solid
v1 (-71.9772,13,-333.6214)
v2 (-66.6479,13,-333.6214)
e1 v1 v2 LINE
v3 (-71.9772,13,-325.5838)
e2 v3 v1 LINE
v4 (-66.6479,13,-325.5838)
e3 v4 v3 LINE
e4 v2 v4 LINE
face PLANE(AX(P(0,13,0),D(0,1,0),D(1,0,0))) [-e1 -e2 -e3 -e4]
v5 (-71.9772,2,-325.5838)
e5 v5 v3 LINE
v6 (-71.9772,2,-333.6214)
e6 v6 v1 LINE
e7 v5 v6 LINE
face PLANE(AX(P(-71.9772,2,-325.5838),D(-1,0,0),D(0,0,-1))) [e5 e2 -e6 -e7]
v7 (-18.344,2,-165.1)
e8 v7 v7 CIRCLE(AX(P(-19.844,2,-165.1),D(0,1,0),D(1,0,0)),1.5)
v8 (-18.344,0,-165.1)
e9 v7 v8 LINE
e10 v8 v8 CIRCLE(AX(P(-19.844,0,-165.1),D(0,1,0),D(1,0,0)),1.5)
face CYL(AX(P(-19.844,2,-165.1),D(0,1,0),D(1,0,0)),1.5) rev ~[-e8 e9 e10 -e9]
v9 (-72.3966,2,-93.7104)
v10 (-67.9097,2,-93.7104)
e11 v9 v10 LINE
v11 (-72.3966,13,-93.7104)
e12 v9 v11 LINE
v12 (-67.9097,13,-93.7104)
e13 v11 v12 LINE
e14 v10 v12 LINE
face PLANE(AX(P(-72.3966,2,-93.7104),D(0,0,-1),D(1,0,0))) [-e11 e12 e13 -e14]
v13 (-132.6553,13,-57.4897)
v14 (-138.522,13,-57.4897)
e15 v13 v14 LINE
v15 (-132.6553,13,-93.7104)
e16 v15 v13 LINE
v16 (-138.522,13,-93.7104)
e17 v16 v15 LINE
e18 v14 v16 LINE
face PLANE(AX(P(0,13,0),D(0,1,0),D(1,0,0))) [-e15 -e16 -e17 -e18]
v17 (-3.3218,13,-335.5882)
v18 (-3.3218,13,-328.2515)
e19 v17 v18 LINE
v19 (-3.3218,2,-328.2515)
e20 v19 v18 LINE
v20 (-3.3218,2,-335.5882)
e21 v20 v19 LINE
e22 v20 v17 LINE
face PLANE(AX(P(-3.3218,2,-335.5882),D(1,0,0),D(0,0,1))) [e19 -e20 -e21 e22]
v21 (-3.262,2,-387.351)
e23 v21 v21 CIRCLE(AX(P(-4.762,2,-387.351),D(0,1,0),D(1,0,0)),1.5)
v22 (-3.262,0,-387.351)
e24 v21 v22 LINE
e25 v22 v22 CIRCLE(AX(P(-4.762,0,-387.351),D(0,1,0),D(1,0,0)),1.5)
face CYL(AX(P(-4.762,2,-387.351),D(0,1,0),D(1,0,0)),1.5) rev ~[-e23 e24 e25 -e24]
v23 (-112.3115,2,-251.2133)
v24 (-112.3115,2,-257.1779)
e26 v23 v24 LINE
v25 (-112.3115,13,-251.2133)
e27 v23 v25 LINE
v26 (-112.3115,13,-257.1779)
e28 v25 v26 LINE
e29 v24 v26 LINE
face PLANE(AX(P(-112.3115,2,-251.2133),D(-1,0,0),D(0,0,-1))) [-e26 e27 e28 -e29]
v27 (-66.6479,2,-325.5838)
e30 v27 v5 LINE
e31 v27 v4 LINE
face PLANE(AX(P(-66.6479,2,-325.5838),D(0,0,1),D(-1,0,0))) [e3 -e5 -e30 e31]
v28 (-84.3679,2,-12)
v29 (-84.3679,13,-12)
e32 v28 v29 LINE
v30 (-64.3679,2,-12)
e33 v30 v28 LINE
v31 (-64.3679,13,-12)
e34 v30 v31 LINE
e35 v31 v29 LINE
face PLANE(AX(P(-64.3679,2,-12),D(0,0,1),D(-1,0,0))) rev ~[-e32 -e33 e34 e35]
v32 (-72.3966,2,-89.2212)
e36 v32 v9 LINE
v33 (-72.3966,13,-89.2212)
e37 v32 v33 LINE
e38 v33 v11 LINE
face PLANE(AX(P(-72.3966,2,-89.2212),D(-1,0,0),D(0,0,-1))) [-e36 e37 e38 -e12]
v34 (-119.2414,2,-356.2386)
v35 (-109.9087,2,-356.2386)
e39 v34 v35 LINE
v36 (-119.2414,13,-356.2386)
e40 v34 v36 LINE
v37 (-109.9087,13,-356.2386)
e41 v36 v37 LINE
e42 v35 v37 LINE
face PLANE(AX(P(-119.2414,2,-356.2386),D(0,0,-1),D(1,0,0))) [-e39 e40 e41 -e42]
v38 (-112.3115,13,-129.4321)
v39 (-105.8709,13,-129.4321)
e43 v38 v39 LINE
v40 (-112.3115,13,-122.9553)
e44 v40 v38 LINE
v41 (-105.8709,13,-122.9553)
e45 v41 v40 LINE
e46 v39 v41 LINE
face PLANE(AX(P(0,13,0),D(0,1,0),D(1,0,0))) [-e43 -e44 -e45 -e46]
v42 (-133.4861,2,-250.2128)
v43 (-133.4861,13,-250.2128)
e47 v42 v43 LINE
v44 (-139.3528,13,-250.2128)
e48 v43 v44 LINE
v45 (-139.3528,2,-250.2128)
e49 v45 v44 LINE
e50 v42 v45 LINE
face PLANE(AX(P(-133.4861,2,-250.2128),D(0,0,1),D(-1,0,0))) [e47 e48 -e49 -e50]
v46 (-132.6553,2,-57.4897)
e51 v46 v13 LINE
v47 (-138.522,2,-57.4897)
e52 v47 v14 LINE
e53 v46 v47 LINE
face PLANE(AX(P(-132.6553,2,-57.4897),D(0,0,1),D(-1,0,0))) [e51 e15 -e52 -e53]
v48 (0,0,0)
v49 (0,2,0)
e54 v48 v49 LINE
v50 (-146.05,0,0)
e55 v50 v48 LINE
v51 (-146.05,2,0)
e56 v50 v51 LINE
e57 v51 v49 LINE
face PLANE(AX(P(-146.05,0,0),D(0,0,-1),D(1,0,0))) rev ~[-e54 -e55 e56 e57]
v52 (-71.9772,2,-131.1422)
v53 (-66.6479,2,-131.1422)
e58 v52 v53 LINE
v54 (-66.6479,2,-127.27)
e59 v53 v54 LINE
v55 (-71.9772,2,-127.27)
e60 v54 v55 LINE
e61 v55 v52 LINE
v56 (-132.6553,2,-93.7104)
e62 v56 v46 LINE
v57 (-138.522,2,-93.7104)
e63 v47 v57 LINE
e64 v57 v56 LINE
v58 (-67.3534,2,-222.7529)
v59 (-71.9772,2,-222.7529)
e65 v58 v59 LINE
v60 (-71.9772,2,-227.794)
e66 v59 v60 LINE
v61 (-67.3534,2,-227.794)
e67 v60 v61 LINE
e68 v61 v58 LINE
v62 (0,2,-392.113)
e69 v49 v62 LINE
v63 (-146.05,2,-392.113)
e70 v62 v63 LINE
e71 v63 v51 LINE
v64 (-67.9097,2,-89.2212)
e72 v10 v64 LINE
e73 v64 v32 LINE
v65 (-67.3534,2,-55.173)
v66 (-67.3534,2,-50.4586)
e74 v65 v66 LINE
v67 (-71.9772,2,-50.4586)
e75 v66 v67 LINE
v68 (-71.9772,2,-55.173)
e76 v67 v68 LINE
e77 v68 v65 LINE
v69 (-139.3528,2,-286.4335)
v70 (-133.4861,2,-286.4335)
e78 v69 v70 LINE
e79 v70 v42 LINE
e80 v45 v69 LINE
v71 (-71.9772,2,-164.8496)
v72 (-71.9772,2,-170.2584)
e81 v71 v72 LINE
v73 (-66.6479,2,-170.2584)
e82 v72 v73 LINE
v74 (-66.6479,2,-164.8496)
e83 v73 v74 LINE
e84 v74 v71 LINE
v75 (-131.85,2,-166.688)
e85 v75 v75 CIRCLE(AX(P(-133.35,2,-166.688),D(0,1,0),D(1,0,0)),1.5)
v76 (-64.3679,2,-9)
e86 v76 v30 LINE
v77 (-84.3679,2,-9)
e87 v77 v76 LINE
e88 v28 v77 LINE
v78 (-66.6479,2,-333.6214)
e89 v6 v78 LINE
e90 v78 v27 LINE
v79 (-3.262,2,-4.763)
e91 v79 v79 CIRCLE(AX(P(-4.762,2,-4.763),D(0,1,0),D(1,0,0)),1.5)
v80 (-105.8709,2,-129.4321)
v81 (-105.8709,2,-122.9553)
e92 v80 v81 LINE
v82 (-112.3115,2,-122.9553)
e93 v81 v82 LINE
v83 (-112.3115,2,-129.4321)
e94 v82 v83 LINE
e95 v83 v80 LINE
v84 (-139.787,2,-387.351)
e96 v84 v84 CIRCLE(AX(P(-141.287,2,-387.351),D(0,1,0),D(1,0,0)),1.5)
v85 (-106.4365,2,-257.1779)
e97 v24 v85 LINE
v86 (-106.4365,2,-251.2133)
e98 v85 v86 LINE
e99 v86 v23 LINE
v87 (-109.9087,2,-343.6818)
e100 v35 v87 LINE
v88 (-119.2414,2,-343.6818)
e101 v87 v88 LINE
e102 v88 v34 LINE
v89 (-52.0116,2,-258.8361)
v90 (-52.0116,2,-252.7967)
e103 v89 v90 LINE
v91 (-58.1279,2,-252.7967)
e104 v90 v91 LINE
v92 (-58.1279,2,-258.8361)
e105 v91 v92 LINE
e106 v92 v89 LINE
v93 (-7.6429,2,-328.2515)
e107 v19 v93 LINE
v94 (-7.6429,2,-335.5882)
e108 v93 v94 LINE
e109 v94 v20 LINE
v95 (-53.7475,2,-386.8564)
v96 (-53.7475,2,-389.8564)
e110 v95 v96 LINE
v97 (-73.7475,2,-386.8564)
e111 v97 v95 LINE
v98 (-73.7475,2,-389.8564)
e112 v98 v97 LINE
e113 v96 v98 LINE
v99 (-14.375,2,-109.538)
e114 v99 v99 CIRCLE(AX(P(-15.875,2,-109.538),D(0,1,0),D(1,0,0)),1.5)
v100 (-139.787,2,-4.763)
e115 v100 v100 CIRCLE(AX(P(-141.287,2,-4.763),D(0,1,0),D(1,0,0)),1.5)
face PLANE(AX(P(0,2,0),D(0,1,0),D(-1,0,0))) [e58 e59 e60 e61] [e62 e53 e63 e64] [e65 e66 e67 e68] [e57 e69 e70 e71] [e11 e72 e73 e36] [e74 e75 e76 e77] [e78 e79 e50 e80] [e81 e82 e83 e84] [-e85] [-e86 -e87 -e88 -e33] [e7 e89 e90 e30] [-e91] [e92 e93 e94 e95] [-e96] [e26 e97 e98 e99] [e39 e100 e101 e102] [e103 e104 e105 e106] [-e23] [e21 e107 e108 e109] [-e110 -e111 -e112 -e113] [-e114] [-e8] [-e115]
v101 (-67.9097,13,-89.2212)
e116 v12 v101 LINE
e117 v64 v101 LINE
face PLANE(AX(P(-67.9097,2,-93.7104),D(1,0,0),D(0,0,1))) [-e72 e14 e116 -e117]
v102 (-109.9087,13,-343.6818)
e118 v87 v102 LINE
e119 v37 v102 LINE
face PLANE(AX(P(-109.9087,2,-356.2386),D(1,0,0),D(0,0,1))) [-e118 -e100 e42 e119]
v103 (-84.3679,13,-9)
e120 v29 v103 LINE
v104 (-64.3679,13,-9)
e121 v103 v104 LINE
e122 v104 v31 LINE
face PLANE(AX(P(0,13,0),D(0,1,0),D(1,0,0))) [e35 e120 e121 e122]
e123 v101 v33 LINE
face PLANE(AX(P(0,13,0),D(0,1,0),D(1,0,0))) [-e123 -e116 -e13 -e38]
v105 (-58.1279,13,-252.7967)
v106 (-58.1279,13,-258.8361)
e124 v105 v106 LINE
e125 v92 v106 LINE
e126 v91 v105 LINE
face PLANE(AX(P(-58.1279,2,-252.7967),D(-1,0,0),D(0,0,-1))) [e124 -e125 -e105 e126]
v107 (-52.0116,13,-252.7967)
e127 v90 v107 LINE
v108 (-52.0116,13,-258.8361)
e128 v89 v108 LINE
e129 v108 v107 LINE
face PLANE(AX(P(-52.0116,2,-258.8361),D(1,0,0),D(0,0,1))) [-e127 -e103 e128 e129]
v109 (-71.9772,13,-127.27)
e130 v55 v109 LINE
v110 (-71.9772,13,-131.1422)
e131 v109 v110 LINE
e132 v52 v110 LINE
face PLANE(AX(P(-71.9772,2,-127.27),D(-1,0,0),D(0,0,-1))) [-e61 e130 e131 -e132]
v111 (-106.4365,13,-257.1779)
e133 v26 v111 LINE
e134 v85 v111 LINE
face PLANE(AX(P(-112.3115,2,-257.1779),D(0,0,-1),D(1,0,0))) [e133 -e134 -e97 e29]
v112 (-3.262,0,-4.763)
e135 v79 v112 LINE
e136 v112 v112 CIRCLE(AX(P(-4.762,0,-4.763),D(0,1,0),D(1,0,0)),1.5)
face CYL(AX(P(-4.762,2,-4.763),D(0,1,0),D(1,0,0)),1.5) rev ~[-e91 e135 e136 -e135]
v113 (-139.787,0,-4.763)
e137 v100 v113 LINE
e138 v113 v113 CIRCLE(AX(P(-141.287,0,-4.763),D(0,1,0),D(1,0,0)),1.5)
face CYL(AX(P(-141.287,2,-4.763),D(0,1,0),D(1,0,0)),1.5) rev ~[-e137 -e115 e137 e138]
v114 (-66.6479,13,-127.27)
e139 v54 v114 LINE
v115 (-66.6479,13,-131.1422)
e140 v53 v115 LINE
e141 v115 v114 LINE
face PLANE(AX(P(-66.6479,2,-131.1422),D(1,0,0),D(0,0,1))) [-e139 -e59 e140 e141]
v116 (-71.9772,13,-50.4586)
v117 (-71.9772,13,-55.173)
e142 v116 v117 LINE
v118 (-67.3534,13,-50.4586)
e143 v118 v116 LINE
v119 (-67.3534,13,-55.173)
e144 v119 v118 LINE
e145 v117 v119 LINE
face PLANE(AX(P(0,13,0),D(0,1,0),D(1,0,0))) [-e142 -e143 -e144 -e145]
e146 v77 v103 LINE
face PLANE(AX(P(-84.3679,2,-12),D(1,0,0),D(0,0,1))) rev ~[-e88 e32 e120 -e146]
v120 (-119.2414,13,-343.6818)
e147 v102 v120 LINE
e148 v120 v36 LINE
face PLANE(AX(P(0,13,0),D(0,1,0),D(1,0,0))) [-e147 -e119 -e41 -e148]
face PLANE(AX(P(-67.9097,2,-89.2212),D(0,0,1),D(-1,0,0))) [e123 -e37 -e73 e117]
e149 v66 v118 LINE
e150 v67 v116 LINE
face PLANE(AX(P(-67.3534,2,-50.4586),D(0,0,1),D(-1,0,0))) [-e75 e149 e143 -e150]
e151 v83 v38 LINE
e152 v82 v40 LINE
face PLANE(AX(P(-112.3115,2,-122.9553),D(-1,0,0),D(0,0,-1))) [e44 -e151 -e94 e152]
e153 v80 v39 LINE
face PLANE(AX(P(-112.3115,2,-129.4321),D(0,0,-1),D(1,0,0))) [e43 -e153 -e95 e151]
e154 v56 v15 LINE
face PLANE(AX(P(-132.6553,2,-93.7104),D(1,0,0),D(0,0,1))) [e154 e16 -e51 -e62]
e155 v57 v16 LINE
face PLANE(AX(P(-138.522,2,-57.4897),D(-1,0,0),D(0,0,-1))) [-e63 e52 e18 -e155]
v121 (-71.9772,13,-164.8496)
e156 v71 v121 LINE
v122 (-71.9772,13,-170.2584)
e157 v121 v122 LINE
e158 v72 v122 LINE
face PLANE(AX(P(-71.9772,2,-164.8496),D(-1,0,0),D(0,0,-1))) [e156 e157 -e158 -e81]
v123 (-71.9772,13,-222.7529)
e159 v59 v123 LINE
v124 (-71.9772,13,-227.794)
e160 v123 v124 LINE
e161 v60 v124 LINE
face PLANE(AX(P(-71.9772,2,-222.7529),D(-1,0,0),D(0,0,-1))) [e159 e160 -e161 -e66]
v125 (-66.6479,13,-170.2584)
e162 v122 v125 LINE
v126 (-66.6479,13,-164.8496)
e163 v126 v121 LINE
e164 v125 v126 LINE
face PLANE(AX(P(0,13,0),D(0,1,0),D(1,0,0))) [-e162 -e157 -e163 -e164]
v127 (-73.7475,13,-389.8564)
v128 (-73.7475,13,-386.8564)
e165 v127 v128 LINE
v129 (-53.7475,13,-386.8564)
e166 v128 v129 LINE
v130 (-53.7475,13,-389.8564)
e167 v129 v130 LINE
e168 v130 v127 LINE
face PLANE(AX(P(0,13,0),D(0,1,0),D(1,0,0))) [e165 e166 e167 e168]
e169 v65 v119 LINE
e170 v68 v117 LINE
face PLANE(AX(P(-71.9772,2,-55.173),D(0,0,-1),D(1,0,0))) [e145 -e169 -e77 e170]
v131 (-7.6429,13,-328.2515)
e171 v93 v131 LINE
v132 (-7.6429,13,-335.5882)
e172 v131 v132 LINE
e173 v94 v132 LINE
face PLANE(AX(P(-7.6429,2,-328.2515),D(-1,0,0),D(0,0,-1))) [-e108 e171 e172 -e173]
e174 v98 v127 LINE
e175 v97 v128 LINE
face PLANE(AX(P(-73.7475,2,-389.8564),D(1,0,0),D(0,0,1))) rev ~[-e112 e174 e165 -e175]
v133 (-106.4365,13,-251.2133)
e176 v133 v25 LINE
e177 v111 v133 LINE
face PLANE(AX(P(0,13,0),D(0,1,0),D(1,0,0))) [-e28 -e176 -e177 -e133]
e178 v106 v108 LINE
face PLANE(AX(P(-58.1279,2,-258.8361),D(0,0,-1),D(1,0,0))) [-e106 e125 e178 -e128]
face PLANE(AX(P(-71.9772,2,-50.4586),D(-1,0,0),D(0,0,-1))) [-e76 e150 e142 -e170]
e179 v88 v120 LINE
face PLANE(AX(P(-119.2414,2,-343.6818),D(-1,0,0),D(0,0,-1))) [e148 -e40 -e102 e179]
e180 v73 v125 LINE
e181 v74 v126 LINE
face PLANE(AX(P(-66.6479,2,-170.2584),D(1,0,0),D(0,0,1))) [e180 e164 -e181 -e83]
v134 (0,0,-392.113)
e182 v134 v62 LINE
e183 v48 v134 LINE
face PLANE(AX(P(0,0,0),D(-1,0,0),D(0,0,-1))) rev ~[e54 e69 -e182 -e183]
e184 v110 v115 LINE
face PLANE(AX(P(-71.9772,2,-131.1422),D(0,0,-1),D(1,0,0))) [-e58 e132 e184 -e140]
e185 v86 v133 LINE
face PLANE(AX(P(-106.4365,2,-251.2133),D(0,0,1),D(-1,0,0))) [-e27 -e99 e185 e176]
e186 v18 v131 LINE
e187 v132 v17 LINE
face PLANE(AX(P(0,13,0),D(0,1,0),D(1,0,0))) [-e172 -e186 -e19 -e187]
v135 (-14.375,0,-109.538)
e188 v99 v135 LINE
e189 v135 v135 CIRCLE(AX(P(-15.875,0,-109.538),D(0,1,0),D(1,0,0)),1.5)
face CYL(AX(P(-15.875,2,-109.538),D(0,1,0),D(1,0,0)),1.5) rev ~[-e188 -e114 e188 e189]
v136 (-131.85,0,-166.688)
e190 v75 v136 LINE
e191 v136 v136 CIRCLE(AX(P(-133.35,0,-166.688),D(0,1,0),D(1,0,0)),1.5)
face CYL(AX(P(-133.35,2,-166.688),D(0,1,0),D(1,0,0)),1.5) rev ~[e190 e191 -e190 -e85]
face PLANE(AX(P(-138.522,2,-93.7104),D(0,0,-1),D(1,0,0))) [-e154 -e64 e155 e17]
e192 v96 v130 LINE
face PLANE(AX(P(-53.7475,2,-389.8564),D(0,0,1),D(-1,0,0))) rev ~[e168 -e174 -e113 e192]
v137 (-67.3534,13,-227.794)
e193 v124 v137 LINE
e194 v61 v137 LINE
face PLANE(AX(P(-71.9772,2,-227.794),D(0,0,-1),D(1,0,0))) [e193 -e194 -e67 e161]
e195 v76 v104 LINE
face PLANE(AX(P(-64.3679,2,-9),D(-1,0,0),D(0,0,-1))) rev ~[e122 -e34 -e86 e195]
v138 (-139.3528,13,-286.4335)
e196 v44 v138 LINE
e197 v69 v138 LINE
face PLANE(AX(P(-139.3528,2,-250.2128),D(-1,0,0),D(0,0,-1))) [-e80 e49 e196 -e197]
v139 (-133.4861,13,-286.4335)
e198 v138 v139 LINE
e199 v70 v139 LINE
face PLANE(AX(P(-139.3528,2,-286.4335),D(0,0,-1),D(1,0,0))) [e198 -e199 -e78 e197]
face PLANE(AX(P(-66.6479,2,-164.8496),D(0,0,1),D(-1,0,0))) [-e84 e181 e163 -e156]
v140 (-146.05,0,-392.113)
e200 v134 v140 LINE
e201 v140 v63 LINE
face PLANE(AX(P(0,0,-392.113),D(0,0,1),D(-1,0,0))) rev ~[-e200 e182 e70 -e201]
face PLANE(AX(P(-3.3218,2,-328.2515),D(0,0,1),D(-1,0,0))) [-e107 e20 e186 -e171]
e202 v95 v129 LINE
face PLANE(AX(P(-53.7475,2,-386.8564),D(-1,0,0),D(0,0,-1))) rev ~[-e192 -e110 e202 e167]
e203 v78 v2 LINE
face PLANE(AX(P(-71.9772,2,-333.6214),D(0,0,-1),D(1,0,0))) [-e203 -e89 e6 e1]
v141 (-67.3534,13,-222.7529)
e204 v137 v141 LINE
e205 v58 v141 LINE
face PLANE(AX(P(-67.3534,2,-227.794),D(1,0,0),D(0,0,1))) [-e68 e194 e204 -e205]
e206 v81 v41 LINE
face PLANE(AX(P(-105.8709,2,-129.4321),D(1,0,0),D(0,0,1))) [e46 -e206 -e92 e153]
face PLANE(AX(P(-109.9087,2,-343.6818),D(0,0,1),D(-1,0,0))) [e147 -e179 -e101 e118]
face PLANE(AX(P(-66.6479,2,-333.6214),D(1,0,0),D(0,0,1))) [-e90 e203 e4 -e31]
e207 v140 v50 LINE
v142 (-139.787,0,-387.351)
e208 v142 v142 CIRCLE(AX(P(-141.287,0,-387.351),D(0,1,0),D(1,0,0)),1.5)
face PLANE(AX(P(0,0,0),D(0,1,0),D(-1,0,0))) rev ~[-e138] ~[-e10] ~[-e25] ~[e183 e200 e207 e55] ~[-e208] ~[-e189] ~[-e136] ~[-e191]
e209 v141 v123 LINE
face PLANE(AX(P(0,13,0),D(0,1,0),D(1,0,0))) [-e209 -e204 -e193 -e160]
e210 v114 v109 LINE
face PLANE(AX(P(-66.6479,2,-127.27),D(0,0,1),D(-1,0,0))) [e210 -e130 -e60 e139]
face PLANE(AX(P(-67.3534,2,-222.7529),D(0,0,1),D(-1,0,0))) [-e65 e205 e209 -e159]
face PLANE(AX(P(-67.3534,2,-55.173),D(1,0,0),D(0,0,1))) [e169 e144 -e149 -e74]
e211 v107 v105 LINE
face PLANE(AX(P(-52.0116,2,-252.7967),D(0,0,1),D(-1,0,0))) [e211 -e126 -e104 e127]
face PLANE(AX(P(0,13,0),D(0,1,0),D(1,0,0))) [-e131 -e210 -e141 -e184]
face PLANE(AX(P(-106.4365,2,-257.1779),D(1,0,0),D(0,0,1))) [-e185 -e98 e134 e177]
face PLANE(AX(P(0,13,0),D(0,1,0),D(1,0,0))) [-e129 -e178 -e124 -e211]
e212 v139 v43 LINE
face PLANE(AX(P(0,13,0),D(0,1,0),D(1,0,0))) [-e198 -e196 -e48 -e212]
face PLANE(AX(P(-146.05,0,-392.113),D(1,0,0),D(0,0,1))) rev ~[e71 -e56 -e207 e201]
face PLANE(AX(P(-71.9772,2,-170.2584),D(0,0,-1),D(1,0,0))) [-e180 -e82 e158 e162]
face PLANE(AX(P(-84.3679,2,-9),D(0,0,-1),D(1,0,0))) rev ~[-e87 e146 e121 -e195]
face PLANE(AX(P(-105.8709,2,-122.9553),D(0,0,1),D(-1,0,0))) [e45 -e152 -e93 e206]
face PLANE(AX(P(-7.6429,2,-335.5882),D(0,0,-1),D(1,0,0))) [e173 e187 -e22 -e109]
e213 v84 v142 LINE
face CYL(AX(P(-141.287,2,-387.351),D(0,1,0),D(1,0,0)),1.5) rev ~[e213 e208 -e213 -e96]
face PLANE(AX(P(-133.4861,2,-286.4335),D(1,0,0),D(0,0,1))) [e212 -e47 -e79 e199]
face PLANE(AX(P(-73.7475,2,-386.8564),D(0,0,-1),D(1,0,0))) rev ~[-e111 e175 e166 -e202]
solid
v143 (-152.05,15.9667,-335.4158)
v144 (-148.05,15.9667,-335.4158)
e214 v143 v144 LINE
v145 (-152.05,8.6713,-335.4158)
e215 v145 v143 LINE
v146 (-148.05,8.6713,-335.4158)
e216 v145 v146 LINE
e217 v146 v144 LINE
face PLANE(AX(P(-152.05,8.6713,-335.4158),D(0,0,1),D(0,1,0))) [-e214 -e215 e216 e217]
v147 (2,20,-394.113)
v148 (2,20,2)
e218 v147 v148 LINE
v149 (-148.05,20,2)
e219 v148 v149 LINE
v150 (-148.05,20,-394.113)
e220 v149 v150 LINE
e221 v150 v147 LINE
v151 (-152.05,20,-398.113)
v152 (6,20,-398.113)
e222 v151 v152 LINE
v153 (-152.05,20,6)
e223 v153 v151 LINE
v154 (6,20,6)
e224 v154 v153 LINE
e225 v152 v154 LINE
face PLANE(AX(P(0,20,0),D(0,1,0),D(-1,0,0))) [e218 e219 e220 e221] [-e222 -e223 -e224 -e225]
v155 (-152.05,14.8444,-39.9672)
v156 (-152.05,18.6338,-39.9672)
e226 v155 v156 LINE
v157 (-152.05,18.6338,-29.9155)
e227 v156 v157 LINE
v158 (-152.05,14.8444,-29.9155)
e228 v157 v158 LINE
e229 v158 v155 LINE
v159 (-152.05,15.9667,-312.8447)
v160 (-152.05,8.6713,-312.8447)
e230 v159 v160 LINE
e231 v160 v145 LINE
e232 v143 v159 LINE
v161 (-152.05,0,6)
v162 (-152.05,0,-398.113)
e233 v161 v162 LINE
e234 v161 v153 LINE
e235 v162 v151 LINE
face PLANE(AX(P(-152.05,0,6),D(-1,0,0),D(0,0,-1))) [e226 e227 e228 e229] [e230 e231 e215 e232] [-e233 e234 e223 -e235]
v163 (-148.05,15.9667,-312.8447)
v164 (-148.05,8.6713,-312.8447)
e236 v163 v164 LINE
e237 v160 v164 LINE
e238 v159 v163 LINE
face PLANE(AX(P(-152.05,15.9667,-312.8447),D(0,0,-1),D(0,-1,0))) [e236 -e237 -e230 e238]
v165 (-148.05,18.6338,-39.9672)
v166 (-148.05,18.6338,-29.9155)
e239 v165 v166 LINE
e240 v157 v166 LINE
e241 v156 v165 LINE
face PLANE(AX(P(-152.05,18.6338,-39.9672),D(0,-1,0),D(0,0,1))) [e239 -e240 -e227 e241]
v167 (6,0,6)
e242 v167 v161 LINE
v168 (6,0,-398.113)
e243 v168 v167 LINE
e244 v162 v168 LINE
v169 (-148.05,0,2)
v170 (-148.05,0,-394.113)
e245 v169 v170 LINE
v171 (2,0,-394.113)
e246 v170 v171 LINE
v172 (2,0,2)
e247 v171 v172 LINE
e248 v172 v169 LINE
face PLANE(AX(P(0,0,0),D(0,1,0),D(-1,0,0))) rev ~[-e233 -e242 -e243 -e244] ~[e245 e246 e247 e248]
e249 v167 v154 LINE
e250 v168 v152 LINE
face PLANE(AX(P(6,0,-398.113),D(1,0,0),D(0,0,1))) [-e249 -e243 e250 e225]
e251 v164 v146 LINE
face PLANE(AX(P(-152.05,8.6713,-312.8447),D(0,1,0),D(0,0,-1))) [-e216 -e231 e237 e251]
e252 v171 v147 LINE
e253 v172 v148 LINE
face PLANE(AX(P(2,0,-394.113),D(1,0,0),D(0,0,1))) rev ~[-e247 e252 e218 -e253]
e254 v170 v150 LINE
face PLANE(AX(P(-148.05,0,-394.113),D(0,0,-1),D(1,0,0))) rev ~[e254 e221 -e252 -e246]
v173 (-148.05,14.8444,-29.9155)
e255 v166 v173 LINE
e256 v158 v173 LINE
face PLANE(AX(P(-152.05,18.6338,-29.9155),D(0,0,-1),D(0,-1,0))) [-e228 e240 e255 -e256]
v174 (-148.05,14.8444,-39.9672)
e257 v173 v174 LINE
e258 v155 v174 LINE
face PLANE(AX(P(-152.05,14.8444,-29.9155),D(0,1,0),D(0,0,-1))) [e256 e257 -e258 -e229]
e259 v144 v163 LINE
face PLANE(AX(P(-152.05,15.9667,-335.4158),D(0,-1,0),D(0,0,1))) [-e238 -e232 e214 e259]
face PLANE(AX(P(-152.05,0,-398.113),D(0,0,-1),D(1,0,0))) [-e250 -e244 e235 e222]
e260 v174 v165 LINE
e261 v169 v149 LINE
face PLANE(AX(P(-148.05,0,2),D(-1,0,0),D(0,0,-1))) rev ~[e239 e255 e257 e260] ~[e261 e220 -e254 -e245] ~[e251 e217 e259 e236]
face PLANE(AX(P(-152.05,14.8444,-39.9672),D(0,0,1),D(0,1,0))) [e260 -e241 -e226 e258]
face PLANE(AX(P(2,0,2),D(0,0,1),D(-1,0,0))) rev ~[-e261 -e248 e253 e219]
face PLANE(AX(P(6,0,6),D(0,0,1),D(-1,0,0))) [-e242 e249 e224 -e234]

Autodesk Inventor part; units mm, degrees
ref_plane "YZ Plane" through (0, 0, 0) normal (1, 0, 0) x (0, 1, 0)
ref_plane "XZ Plane" through (0, 0, 0) normal (0, 1, 0) x (-1, 0, 0)
ref_plane "XY Plane" through (0, 0, 0) normal (0, 0, 1) x (1, 0, 0)
sketch "Sketch1" plane through (0, 0, 0) normal (0, 1, 0) x (-1, 0, 0)
  line L0 (0, 0) -> (0, -392.113)
  line L1 (0, -392.113) -> (146.05, -392.113)
  line L2 (146.05, -392.113) -> (146.05, 0)
  line L3 (146.05, 0) -> (0, 0)
  line L4 (148.05, 2) -> (148.05, -394.113)
  line L5 (148.05, -394.113) -> (-2, -394.113)
  line L6 (-2, -394.113) -> (-2, 2)
  line L7 (-2, 2) -> (148.05, 2)
  line L8 (152.05, 6) -> (152.05, -398.113)
  line L9 (152.05, -398.113) -> (-6, -398.113)
  line L10 (-6, -398.113) -> (-6, 6)
  line L11 (-6, 6) -> (152.05, 6)
  dimension "d0" = 146.05
  dimension "d1" = 392.113
  dimension "d2" = 2
  dimension "d3" = 4
extrude "Extrusion1" add sketch "Sketch1" along normal blind 2 contours L3 L2 L1 L0
sketch "Sketch2" plane through (0, 2, 0) normal (0, 1, 0) x (1, 0, 0)
  circle A0 centre (-141.287, 4.763) radius 1.5
  line L0 (-146.05, 392.113) -> (-146.05, 0) projected
  line L1 (-146.05, 0) -> (0, 0) projected
  circle A1 centre (-4.762, 4.763) radius 1.5
  circle A2 centre (-141.287, 387.351) radius 1.5
  circle A3 centre (-4.762, 387.351) radius 1.5
  circle A4 centre (-15.875, 109.538) radius 1.5
  circle A5 centre (-19.844, 165.1) radius 1.5
  line L2 (0, 0) -> (0, 392.113) projected
  circle A6 centre (-133.35, 166.688) radius 1.5
  dimension "d6" = 3
  dimension "d7" = 4.763
  dimension "d8" = 4.763
  dimension "d11" = 136.525
  dimension "d14" = 382.588
  dimension "d19" = 3
  dimension "d20" = 3
  dimension "d21" = 109.538
  dimension "d22" = 15.875
  dimension "d23" = 19.844
  dimension "d24" = 165.1
  dimension "d25" = 3
  dimension "d26" = 12.7
  dimension "d27" = 166.688
extrude "Extrusion2" cut sketch "Sketch2" against normal through all contours A0 | A1 | A2 | A3
extrude "Extrusion3" cut sketch "Sketch2" against normal through all contours A4 | A5 | A6
sketch "Sketch3" plane through (0, 2, 0) normal (0, 1, 0) x (1, 0, 0)
  line L0 (-84.3679, 9) -> (-64.3679, 9)
  line L1 (-64.3679, 9) -> (-64.3679, 12)
  line L2 (-64.3679, 12) -> (-84.3679, 12)
  line L3 (-84.3679, 12) -> (-84.3679, 9)
  line L4 (-146.05, 0) -> (0, 0) projected
  line L5 (-73.7475, 386.8564) -> (-53.7475, 386.8564)
  line L6 (-53.7475, 386.8564) -> (-53.7475, 389.8564)
  line L7 (-53.7475, 389.8564) -> (-73.7475, 389.8564)
  line L8 (-73.7475, 389.8564) -> (-73.7475, 386.8564)
  line L9 (-138.522, 93.7104) -> (-132.6553, 93.7104)
  line L10 (-132.6553, 93.7104) -> (-132.6553, 57.4897)
  line L11 (-132.6553, 57.4897) -> (-138.522, 57.4897)
  line L12 (-138.522, 57.4897) -> (-138.522, 93.7104)
  line L13 (-139.3528, 286.4335) -> (-133.4861, 286.4335)
  line L14 (-133.4861, 286.4335) -> (-133.4861, 250.2128)
  line L15 (-133.4861, 250.2128) -> (-139.3528, 250.2128)
  line L16 (-139.3528, 250.2128) -> (-139.3528, 286.4335)
  line L17 (-72.3966, 93.7104) -> (-67.9097, 93.7104)
  line L18 (-67.9097, 93.7104) -> (-67.9097, 89.2212)
  line L19 (-67.9097, 89.2212) -> (-72.3966, 89.2212)
  line L20 (-72.3966, 89.2212) -> (-72.3966, 93.7104)
  line L21 (-58.1279, 258.8361) -> (-52.0116, 258.8361)
  line L22 (-52.0116, 258.8361) -> (-52.0116, 252.7967)
  line L23 (-52.0116, 252.7967) -> (-58.1279, 252.7967)
  line L24 (-58.1279, 252.7967) -> (-58.1279, 258.8361)
  line L25 (-7.6429, 335.5882) -> (-3.3218, 335.5882)
  line L26 (-3.3218, 335.5882) -> (-3.3218, 328.2515)
  line L27 (-3.3218, 328.2515) -> (-7.6429, 328.2515)
  line L28 (-7.6429, 328.2515) -> (-7.6429, 335.5882)
  line L29 (-119.2414, 356.2386) -> (-109.9087, 356.2386)
  line L30 (-109.9087, 356.2386) -> (-109.9087, 343.6818)
  line L31 (-109.9087, 343.6818) -> (-119.2414, 343.6818)
  line L32 (-119.2414, 343.6818) -> (-119.2414, 356.2386)
  line L33 (-71.9772, 55.173) -> (-67.3534, 55.173)
  line L34 (-67.3534, 55.173) -> (-67.3534, 50.4586)
  line L35 (-67.3534, 50.4586) -> (-71.9772, 50.4586)
  line L36 (-71.9772, 50.4586) -> (-71.9772, 55.173)
  line L37 (-112.3115, 129.4321) -> (-105.8709, 129.4321)
  line L38 (-105.8709, 129.4321) -> (-105.8709, 122.9553)
  line L39 (-105.8709, 122.9553) -> (-112.3115, 122.9553)
  line L40 (-112.3115, 122.9553) -> (-112.3115, 129.4321)
  line L41 (-112.3115, 257.1779) -> (-106.4365, 257.1779)
  line L42 (-106.4365, 257.1779) -> (-106.4365, 251.2133)
  line L43 (-106.4365, 251.2133) -> (-112.3115, 251.2133)
  line L44 (-112.3115, 251.2133) -> (-112.3115, 257.1779)
  line L45 (-71.9772, 131.1422) -> (-66.6479, 131.1422)
  line L46 (-66.6479, 131.1422) -> (-66.6479, 127.27)
  line L47 (-66.6479, 127.27) -> (-71.9772, 127.27)
  line L48 (-71.9772, 127.27) -> (-71.9772, 131.1422)
  line L49 (-71.9772, 170.2584) -> (-66.6479, 170.2584)
  line L50 (-66.6479, 170.2584) -> (-66.6479, 164.8496)
  line L51 (-66.6479, 164.8496) -> (-71.9772, 164.8496)
  line L52 (-71.9772, 164.8496) -> (-71.9772, 170.2584)
  line L53 (-71.9772, 227.794) -> (-67.3534, 227.794)
  line L54 (-67.3534, 227.794) -> (-67.3534, 222.7529)
  line L55 (-67.3534, 222.7529) -> (-71.9772, 222.7529)
  line L56 (-71.9772, 222.7529) -> (-71.9772, 227.794)
  line L57 (-71.9772, 333.6214) -> (-66.6479, 333.6214)
  line L58 (-66.6479, 333.6214) -> (-66.6479, 325.5838)
  line L59 (-66.6479, 325.5838) -> (-71.9772, 325.5838)
  line L60 (-71.9772, 325.5838) -> (-71.9772, 333.6214)
  dimension "d30" = 20
  dimension "d31" = 3
  dimension "d32" = 12
  dimension "d35" = 20
  dimension "d36" = 3
extrude "Extrusion4" add sketch "Sketch3" along normal blind 11 contours L3 L2 L1 L0
extrude "Extrusion5" add sketch "Sketch3" along normal blind 11 contours L8 L7 L6 L5 | L9 L10 L11 L12 | L13 L14 L15 L16 | L17 L18 L19 L20 | L21 L22 L23 L24 | L25 L26 L27 L28 | L29 L30 L31 L32 | L33 L34 L35 L36 | L37 L38 L39 L40 | L41 L42 L43 L44 | L45 L46 L47 L48 | L49 L50 L51 L52 | L53 L54 L55 L56 | L57 L58 L59 L60
extrude "Extrusion6" add sketch "Sketch1" along normal blind 20 contours L8 L9 L10 L11
sketch "Sketch4" plane through (-152.05, 0, -398.113) normal (-1, 0, 0) x (0, 0, 1)
  line L0 (358.1458, 18.6338) -> (368.1975, 18.6338)
  line L1 (368.1975, 18.6338) -> (368.1975, 14.8444)
  line L2 (368.1975, 14.8444) -> (358.1458, 14.8444)
  line L3 (358.1458, 14.8444) -> (358.1458, 18.6338)
  point P0 (398.113, 0)
  point P1 (212.9873, 26.1445)
  point P2 (212.9873, 26.1445)
  point P3 (212.9873, 26.1445)
extrude "Extrusion7" cut sketch "Sketch4" against normal blind 20
sketch "Sketch5" plane through (-152.05, 0, -398.113) normal (-1, 0, 0) x (0, 0, 1)
  line L0 (6, 2) -> (398.113, 2) projected
  line L1 (85.2683, 2) -> (62.6972, 2)
  line L2 (62.6972, 15.9667) -> (85.2683, 15.9667)
  line L3 (85.2683, 15.9667) -> (85.2683, 8.6713)
  line L4 (85.2683, 8.6713) -> (62.6972, 8.6713)
  line L5 (62.6972, 8.6713) -> (62.6972, 15.9667)
  point P0 (398.113, 0)
extrude "Extrusion10" cut sketch "Sketch5" against normal blind 20
properties part number "bottom_case"
